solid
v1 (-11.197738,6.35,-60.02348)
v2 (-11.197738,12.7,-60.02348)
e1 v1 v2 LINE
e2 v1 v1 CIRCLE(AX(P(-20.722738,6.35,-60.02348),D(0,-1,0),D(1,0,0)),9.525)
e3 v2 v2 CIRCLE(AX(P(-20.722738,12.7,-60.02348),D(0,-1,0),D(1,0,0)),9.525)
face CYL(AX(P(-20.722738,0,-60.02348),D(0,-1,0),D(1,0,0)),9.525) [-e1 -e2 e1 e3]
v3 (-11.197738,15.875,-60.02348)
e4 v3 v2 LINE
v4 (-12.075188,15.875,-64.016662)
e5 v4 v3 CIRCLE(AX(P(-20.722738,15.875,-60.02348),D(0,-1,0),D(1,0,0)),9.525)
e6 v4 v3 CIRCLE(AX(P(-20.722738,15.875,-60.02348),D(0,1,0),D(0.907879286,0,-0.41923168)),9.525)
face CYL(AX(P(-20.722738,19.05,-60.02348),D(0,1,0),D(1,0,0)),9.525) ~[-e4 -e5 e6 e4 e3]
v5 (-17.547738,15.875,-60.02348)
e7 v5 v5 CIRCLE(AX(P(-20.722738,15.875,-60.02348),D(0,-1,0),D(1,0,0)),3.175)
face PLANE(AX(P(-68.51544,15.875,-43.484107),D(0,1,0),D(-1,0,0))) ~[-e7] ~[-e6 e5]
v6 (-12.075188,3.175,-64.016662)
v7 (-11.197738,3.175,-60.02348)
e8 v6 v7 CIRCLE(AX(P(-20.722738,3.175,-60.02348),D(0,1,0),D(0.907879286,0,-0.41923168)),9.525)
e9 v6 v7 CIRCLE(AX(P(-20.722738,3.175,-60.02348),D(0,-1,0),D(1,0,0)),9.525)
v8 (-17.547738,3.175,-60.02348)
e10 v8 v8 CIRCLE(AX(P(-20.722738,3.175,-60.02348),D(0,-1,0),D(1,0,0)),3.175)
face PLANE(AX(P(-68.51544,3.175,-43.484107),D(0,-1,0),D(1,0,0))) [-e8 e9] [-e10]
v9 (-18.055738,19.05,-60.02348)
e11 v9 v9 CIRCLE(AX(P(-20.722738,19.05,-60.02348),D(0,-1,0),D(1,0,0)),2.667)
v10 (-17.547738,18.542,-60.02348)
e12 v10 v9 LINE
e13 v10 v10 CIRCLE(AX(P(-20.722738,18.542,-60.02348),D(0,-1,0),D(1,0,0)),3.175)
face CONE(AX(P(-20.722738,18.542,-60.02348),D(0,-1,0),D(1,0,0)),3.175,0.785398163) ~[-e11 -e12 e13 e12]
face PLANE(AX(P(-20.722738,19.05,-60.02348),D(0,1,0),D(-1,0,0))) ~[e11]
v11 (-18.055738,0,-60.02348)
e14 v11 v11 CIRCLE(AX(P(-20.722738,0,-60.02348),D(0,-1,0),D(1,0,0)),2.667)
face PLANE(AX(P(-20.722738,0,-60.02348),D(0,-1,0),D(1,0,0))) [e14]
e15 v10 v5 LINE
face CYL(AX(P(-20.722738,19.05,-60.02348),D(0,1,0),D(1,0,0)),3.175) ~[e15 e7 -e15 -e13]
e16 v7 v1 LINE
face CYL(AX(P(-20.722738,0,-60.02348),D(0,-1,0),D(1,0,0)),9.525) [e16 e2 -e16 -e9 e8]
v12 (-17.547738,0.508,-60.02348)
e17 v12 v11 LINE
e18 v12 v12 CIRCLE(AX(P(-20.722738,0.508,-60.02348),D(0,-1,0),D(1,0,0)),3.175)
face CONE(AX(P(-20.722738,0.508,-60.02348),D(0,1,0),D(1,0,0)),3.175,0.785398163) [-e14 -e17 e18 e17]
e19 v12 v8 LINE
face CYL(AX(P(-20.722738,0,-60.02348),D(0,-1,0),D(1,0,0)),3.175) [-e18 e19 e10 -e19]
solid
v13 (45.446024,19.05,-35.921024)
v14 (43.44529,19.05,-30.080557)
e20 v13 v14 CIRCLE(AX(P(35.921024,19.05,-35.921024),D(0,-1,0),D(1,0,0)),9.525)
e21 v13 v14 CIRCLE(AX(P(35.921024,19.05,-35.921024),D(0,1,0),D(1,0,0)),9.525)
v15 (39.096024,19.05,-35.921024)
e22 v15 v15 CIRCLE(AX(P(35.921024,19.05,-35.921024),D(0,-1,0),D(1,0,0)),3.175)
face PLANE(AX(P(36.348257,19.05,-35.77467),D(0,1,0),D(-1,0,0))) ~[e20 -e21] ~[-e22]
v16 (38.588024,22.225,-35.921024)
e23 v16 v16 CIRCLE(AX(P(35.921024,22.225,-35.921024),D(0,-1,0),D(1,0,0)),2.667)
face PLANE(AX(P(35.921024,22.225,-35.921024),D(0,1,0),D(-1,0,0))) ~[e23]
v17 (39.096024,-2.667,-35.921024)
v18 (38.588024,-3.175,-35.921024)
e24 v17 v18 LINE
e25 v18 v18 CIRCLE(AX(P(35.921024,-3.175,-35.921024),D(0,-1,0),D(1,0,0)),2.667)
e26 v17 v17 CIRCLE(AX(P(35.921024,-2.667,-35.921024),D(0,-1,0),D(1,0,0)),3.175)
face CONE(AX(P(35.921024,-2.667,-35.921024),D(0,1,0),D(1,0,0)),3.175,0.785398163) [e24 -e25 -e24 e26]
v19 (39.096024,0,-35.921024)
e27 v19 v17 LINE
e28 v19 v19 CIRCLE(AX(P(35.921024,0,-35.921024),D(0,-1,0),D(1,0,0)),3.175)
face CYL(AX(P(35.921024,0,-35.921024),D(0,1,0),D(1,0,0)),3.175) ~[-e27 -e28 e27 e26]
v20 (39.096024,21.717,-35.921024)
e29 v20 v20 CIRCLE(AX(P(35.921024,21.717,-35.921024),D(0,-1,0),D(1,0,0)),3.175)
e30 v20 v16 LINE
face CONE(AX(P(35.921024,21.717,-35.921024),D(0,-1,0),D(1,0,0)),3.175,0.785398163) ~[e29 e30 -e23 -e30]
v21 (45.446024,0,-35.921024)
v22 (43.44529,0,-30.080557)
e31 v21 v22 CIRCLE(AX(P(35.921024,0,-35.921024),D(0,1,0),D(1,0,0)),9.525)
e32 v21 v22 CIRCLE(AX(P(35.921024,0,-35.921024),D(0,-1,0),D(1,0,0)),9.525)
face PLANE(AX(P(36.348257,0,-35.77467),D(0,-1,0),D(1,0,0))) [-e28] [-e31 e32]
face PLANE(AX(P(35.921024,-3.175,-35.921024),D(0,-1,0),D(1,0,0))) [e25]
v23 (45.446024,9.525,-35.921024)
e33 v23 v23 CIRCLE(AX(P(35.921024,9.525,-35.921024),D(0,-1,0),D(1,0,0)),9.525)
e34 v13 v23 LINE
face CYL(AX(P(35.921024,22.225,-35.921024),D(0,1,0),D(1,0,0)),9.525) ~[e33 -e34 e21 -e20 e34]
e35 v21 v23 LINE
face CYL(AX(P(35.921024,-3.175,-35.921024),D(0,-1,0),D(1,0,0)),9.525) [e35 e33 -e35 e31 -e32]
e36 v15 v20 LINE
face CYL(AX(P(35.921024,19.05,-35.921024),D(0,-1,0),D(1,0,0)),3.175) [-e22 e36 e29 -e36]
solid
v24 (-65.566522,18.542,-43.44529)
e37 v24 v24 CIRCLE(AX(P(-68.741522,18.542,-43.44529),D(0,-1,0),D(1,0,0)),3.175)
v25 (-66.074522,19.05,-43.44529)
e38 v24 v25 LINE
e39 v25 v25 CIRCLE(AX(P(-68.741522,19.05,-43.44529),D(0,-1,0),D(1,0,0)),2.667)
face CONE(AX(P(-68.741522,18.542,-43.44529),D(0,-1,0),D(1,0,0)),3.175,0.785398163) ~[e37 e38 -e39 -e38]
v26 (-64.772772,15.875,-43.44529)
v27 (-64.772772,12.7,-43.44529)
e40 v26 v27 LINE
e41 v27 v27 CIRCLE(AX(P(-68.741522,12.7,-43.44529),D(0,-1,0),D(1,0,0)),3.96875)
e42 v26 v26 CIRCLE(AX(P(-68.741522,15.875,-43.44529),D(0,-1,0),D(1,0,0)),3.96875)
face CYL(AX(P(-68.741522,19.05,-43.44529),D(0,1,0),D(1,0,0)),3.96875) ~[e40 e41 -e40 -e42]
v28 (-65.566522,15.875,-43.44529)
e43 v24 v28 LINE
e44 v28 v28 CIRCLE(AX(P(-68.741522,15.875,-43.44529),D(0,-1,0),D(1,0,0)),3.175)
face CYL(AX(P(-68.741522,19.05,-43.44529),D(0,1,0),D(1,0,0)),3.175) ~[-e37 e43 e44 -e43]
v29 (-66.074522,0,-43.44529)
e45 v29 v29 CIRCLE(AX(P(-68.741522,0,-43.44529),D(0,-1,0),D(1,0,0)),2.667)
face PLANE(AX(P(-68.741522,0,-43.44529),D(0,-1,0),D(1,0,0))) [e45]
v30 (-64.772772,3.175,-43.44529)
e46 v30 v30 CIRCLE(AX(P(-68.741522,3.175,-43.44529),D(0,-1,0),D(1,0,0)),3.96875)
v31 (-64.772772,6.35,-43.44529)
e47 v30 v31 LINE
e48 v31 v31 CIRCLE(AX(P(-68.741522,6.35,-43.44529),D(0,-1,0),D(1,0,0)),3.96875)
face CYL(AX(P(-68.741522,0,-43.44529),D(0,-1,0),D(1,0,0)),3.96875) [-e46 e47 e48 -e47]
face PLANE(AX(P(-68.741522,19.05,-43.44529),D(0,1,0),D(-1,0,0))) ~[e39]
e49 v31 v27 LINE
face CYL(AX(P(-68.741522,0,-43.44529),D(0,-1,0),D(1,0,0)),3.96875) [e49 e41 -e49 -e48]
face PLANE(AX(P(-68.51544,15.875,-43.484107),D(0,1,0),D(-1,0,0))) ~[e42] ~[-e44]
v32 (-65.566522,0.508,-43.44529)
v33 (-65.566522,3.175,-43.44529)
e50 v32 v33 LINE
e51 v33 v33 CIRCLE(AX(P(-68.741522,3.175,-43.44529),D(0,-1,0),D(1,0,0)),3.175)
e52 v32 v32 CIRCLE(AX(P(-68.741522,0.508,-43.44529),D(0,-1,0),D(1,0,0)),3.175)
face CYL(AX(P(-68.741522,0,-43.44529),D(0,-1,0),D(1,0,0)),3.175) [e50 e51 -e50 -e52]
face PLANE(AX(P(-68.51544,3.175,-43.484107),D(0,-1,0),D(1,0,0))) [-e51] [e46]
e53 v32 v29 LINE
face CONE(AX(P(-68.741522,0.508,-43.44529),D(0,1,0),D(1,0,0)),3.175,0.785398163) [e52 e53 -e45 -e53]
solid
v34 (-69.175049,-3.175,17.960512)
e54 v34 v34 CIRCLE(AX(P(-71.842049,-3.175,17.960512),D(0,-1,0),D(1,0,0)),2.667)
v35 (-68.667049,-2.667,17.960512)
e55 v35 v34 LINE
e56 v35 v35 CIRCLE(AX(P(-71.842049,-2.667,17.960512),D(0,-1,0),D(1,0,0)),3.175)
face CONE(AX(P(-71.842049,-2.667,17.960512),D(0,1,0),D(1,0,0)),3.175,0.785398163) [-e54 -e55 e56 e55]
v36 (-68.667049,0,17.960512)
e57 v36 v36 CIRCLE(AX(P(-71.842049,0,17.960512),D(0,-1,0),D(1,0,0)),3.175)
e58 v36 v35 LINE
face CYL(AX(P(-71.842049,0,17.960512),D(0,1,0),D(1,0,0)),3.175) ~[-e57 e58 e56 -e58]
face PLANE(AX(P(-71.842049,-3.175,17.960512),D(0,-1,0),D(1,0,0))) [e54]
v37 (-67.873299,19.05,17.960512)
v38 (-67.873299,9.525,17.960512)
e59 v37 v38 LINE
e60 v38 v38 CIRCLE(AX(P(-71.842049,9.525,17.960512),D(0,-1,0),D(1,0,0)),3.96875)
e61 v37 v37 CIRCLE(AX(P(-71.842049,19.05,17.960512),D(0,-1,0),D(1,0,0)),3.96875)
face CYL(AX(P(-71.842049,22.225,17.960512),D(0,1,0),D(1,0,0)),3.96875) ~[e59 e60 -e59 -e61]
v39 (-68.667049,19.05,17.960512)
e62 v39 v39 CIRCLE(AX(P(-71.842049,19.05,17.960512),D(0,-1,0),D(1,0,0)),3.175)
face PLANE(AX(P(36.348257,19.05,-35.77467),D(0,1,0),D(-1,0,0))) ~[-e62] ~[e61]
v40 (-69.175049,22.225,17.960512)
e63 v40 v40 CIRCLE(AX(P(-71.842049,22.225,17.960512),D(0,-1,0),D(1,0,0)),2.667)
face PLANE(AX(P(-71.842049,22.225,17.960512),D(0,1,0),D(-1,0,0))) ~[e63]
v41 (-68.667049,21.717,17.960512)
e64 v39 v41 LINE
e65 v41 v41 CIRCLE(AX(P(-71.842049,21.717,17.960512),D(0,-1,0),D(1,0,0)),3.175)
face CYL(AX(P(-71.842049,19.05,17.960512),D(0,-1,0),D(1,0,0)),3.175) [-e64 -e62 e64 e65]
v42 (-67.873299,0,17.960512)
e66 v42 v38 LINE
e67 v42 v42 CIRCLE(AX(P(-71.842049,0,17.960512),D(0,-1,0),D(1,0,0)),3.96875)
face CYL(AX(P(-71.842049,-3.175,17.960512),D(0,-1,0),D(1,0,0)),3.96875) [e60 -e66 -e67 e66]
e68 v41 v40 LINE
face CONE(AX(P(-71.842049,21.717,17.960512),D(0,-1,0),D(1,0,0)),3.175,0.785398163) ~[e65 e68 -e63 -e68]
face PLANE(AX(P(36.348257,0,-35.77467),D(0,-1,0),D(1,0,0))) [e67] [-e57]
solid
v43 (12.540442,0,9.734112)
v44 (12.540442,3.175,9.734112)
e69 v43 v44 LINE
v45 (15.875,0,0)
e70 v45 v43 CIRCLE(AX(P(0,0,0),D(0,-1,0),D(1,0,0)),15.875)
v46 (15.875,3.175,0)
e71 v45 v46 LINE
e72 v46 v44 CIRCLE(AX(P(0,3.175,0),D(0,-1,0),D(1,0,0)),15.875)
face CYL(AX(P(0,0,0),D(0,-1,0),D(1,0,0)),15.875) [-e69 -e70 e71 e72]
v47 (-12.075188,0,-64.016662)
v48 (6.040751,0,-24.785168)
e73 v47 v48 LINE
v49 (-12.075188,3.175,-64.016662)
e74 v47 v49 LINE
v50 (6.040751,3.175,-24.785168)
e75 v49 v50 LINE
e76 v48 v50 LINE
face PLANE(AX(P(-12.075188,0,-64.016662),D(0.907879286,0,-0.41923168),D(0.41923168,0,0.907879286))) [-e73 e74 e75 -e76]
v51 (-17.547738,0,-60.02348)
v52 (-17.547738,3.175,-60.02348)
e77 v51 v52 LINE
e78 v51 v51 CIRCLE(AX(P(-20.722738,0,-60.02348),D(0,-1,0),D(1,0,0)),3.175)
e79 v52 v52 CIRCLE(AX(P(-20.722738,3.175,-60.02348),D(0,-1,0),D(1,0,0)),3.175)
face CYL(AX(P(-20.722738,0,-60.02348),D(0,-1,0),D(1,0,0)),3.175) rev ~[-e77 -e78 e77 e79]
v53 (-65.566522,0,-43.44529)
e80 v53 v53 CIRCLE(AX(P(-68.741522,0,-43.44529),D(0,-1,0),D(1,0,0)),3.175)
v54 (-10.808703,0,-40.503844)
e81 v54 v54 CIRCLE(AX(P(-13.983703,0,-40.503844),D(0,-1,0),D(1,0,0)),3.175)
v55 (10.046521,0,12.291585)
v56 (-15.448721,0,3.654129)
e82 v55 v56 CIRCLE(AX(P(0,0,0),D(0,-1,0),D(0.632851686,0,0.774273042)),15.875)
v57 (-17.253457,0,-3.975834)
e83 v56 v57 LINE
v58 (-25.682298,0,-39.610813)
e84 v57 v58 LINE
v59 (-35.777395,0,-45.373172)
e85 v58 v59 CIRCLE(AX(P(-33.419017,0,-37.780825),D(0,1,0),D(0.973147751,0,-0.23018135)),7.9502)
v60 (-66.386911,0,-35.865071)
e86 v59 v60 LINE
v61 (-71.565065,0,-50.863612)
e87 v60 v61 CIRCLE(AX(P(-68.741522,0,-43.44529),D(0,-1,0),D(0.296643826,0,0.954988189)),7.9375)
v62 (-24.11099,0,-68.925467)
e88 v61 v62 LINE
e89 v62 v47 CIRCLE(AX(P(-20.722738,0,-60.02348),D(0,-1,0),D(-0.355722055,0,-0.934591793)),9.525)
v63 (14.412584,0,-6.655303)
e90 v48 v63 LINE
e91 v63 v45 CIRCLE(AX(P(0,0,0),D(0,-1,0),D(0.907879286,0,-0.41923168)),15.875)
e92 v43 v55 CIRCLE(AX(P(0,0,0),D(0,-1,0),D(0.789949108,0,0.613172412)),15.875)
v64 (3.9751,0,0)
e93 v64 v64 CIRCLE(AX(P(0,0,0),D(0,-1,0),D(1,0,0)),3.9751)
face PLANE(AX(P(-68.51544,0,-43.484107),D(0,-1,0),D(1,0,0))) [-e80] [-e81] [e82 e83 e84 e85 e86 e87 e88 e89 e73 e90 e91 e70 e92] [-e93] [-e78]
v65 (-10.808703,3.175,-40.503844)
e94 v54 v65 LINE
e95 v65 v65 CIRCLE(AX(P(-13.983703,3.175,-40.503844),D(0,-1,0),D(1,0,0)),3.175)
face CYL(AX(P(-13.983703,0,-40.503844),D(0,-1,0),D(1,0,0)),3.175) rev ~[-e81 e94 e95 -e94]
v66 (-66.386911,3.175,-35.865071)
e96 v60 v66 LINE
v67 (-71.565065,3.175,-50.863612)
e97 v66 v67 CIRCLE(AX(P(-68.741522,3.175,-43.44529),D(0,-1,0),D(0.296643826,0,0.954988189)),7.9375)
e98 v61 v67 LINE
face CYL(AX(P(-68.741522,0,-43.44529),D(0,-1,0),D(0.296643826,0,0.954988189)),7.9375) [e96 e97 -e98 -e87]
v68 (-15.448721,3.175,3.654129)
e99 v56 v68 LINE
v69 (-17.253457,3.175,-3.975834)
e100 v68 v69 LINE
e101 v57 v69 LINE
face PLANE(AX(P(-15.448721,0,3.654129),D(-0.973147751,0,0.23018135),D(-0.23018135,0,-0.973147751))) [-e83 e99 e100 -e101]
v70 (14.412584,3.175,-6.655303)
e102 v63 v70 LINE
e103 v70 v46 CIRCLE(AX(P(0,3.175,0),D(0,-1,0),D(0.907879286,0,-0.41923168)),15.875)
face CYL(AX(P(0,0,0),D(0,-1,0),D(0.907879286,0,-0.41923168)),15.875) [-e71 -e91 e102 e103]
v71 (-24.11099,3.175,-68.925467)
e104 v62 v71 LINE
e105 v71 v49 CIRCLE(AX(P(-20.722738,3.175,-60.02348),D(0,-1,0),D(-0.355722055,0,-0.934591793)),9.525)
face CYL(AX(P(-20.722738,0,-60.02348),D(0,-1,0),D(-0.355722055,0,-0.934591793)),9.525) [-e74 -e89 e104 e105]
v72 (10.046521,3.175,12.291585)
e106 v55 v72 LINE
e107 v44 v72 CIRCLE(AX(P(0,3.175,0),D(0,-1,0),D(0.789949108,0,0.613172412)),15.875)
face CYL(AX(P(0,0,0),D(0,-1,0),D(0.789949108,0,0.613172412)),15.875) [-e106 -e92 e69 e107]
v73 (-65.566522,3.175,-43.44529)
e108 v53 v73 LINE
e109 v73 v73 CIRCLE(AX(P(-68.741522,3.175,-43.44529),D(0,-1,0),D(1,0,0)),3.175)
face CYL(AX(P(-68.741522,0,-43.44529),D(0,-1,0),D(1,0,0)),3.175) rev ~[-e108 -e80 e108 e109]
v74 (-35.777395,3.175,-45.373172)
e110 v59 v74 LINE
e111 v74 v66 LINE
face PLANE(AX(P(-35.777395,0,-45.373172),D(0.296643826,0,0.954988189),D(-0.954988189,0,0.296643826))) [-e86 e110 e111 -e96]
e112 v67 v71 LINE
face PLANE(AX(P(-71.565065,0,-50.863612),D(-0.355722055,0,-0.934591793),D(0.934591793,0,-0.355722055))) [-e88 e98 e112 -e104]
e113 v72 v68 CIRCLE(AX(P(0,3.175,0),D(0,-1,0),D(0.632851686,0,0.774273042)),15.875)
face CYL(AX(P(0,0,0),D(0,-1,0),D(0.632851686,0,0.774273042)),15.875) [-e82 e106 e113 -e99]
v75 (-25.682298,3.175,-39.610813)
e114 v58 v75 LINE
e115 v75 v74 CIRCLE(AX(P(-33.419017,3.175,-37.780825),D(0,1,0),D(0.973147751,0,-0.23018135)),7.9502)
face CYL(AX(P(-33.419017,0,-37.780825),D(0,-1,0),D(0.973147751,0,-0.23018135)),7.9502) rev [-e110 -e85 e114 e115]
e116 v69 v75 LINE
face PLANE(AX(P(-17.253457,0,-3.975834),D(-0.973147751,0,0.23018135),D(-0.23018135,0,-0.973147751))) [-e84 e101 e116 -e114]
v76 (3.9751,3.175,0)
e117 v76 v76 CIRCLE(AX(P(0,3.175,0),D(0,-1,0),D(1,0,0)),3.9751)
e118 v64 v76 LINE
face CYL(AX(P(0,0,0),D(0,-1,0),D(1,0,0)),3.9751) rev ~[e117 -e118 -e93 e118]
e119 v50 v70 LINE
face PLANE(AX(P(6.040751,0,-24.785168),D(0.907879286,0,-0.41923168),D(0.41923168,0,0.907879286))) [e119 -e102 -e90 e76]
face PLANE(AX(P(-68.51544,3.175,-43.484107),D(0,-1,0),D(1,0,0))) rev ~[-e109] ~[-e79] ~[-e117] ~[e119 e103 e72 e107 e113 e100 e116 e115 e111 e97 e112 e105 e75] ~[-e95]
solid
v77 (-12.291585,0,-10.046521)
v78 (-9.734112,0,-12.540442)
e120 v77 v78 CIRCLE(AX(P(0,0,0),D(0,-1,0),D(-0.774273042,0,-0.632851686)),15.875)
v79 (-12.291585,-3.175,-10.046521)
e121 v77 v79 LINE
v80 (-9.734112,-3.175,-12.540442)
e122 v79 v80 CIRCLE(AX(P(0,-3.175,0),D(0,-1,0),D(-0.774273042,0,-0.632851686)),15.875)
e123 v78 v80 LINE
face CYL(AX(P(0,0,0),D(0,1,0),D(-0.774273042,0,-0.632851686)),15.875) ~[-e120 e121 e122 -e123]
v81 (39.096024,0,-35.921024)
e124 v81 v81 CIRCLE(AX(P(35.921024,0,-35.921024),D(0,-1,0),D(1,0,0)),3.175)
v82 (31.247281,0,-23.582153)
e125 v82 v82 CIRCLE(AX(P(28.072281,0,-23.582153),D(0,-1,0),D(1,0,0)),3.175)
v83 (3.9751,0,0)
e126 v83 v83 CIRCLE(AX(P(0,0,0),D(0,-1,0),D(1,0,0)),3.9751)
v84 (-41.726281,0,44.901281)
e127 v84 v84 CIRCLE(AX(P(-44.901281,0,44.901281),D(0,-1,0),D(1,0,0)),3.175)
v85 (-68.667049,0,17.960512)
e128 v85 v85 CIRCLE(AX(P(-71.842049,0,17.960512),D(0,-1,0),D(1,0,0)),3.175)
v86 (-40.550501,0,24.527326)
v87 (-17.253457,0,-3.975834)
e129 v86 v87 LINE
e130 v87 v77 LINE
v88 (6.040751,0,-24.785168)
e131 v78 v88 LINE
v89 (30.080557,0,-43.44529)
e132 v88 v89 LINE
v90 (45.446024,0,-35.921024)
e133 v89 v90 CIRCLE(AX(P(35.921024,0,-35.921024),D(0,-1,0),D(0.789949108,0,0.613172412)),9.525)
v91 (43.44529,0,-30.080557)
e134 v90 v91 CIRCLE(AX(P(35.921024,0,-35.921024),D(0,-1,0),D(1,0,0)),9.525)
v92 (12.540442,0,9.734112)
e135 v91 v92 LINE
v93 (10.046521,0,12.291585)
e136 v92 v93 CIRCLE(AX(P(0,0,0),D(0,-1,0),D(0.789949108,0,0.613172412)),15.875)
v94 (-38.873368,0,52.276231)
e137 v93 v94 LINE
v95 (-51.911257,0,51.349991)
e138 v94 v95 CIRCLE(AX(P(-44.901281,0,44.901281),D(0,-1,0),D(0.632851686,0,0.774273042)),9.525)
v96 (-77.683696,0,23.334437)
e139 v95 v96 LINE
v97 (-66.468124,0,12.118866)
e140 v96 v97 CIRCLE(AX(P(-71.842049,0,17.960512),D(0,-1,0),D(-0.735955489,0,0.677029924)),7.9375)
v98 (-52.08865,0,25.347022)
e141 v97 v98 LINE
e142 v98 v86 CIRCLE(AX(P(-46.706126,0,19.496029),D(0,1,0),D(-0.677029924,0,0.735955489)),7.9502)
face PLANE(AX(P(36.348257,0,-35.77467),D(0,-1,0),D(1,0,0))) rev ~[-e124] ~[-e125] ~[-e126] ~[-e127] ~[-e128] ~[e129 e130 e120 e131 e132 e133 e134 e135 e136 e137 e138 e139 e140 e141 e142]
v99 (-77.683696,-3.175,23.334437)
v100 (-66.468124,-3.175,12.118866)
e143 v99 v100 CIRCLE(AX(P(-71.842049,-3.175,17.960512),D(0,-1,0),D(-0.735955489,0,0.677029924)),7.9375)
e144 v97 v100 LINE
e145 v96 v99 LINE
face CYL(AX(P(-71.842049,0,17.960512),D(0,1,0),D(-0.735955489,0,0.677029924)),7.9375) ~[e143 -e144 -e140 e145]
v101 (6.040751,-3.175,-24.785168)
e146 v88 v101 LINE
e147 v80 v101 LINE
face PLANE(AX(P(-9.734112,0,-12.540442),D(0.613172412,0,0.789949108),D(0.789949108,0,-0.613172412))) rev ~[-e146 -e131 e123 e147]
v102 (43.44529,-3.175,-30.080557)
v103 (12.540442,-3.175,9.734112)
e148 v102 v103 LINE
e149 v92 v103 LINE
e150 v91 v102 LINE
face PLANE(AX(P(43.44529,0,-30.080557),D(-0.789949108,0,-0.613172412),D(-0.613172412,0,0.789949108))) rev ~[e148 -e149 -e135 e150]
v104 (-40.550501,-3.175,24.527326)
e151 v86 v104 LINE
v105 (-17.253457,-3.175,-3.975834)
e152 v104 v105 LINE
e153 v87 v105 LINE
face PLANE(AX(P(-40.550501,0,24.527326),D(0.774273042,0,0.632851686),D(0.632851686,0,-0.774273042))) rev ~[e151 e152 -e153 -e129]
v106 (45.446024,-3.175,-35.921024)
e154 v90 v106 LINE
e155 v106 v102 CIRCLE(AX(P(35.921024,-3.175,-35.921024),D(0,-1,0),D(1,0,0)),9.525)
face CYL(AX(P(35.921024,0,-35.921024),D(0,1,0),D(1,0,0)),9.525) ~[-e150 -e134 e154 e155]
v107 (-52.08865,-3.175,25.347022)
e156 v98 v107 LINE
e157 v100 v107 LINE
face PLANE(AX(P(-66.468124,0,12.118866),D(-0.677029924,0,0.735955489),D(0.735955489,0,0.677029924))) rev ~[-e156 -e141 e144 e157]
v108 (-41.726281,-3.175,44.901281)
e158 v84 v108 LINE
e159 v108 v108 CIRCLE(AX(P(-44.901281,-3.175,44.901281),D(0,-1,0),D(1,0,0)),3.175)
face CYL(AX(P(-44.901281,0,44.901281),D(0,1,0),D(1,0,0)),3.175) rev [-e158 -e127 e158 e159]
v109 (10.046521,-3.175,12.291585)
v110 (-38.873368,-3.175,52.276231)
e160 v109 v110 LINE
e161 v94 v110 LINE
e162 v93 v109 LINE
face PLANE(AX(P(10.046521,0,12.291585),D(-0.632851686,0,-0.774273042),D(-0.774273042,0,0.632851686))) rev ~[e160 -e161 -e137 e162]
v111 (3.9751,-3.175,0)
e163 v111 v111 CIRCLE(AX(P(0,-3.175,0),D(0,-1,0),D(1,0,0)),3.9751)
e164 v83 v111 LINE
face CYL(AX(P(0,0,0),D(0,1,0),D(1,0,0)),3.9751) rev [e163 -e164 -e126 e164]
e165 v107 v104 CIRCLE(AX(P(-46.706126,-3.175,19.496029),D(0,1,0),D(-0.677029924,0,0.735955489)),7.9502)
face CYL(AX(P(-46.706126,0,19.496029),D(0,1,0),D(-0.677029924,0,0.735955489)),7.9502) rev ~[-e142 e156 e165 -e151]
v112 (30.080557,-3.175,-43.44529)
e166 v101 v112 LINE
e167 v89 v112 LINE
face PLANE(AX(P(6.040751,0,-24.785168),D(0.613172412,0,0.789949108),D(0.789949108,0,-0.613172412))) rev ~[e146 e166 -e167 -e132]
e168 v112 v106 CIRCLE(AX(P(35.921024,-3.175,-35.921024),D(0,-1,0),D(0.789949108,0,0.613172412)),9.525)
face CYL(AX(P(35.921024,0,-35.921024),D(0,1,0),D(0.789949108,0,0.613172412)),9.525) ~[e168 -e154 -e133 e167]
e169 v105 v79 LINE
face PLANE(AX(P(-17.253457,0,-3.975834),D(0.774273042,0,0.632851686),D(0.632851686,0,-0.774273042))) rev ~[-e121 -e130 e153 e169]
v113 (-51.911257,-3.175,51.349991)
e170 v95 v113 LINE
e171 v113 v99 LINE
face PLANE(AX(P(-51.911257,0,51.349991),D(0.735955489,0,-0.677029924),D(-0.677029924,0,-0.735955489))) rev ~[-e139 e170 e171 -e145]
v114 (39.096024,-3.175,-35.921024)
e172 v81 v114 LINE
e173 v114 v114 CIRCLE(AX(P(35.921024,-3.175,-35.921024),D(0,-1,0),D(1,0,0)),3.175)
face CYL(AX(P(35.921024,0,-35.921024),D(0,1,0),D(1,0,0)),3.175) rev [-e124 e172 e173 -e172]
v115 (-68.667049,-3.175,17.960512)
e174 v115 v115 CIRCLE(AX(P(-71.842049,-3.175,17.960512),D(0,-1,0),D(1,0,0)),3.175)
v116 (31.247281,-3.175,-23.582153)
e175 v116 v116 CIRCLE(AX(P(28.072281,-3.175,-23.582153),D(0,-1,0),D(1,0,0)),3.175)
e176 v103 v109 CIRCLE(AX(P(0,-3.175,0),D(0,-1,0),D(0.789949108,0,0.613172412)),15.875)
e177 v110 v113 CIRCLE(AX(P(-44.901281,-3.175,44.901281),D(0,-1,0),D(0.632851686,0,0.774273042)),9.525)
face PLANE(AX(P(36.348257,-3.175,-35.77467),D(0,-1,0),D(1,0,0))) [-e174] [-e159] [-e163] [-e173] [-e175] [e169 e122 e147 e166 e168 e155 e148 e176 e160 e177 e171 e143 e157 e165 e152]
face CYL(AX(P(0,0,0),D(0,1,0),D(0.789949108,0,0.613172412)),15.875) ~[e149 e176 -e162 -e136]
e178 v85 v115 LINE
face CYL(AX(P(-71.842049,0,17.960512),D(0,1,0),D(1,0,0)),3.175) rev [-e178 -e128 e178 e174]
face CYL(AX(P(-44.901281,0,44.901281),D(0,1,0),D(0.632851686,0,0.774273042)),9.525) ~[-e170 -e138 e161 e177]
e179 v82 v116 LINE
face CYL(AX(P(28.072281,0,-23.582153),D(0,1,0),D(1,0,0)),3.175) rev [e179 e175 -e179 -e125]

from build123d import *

# Parameters (mm, degrees)
F0_R     = 3.175
F0_R_2   = 3.9751
F2_DEPTH = 3.175
F3_DEPTH = 3.175
F4_R     = 3.96875
F4_R_2   = 9.525
F5_R     = 9.525
F5_R_2   = 3.96875
F6_DEPTH = 12.7
F8_SIZE  = 0.508


with BuildPart() as f2:
    # F0 (on Front) → F2 (new body)
    with BuildSketch(Plane.XZ):
        with BuildLine():
            ThreePointArc((45.4460244843, -35.9210244843), (44.9319692603, -32.834197757), (43.4452897348, -30.0805572564))
            ThreePointArc((43.4452897348, -30.0805572564), (29.1858323935, -29.1858323935), (30.0805572564, -43.4452897348))
            ThreePointArc((30.0805572564, -43.4452897348), (40.1100085291, -44.4754407515), (45.4460244843, -35.9210244843))
        make_face()
        with Locations((35.9210244843, -35.9210244843)):
            Circle(F0_R, mode=Mode.SUBTRACT)
        with BuildLine():
            ThreePointArc((-35.3762806053, 44.9012806053), (-36.2948443588, 48.9823197052), (-38.8733682976, 52.2762313313))
            ThreePointArc((-38.8733682976, 52.2762313313), (-45.5762567153, 54.4023348758), (-51.9112566393, 51.3499906317))
            ThreePointArc((-51.9112566393, 51.3499906317), (-48.3621766798, 36.0272835712), (-35.3762806053, 44.9012806053))
        make_face()
        with Locations((-44.9012806053, 44.9012806053)):
            Circle(F0_R, mode=Mode.SUBTRACT)
        with BuildLine():
            ThreePointArc((-63.9045489686, 17.9605122421), (-68.9579689065, 25.3555097706), (-77.6836956635, 23.3344372641))
            ThreePointArc((-77.6836956635, 23.3344372641), (-77.4547090442, 12.3478521665), (-66.4681239466, 12.1188655472))
            ThreePointArc((-66.4681239466, 12.1188655472), (-64.5736435, 14.7708119123), (-63.9045489686, 17.9605122421))
        make_face()
        with Locations((-71.8420489686, 17.9605122421)):
            Circle(F0_R, mode=Mode.SUBTRACT)
        with BuildLine():
            ThreePointArc((-12.2915845432, -10.0465205129), (-15.4695856604, -3.5647642974), (-15.4487205549, 3.654128927))
            Line((-15.4487205549, 3.654128927), (-17.2534569939, -3.9758341852))
            Line((-17.2534569939, -3.9758341852), (-12.2915845432, -10.0465205129))
        make_face()
        with BuildLine():
            Line((6.0407505093, -24.7851682751), (14.4125836687, -6.6553029228))
            ThreePointArc((14.4125836687, -6.6553029228), (3.7590876443, -15.4235172734), (-9.7341120464, -12.5404420842))
            Line((-9.7341120464, -12.5404420842), (6.0407505093, -24.7851682751))
        make_face()
        with BuildLine():
            ThreePointArc((-15.4487205549, 3.654128927), (-5.0938542582, 15.0355669596), (10.0465205129, 12.2915845432))
            Line((10.0465205129, 12.2915845432), (-38.8733682976, 52.2762313313))
            ThreePointArc((-38.8733682976, 52.2762313313), (-36.2948443588, 48.9823197052), (-35.3762806053, 44.9012806053))
            ThreePointArc((-35.3762806053, 44.9012806053), (-48.3621766798, 36.0272835712), (-51.9112566393, 51.3499906317))
            Line((-51.9112566393, 51.3499906317), (-77.6836956635, 23.3344372641))
            ThreePointArc((-77.6836956635, 23.3344372641), (-68.9579689065, 25.3555097706), (-63.9045489686, 17.9605122421))
            ThreePointArc((-63.9045489686, 17.9605122421), (-64.5736435, 14.7708119123), (-66.4681239466, 12.1188655472))
            Line((-66.4681239466, 12.1188655472), (-52.0886497329, 25.3470219755))
            ThreePointArc((-52.0886497329, 25.3470219755), (-46.1427463712, 27.4262419437), (-40.5505008917, 24.5273261188))
            Line((-40.5505008917, 24.5273261188), (-17.2534569939, -3.9758341852))
            Line((-17.2534569939, -3.9758341852), (-15.4487205549, 3.654128927))
        make_face()
        with BuildLine():
            ThreePointArc((12.5404420842, 9.7341120464), (15.0182412933, 5.1447112121), (15.875, 0))
            ThreePointArc((15.875, 0), (15.505086113, -3.4070411841), (14.4125836687, -6.6553029228))
            Line((14.4125836687, -6.6553029228), (6.0407505093, -24.7851682751))
            Line((6.0407505093, -24.7851682751), (30.0805572564, -43.4452897348))
            ThreePointArc((30.0805572564, -43.4452897348), (29.1858323935, -29.1858323935), (43.4452897348, -30.0805572564))
            Line((43.4452897348, -30.0805572564), (12.5404420842, 9.7341120464))
        make_face()
        with Locations((28.0722806345, -23.5821525739)):
            Circle(F0_R, mode=Mode.SUBTRACT)
        with BuildLine():
            ThreePointArc((14.4125836687, -6.6553029228), (15.505086113, -3.4070411841), (15.875, 0))
            ThreePointArc((15.875, 0), (15.0182412933, 5.1447112121), (12.5404420842, 9.7341120464))
            ThreePointArc((12.5404420842, 9.7341120464), (11.3656449986, 11.0832187908), (10.0465205129, 12.2915845432))
            ThreePointArc((10.0465205129, 12.2915845432), (-5.0938542582, 15.0355669596), (-15.4487205549, 3.654128927))
            ThreePointArc((-15.4487205549, 3.654128927), (-15.4695856604, -3.5647642974), (-12.2915845432, -10.0465205129))
            ThreePointArc((-12.2915845432, -10.0465205129), (-11.0832187908, -11.3656449986), (-9.7341120464, -12.5404420842))
            ThreePointArc((-9.7341120464, -12.5404420842), (3.7590876443, -15.4235172734), (14.4125836687, -6.6553029228))
        make_face()
        Circle(F0_R_2, mode=Mode.SUBTRACT)
    extrude(amount=F2_DEPTH)


with BuildPart() as f3:
    # F0 (on Front) → F3 (new body)
    with BuildSketch(Plane.XZ):
        with BuildLine():
            ThreePointArc((-66.3869112852, -35.8650709885), (-76.2444566474, -40.8549475191), (-71.5650654677, -50.8636120927))
            ThreePointArc((-71.5650654677, -50.8636120927), (-64.2364119334, -49.980417325), (-60.804021658, -43.4452897348))
            ThreePointArc((-60.804021658, -43.4452897348), (-62.3503705064, -38.738157571), (-66.3869112852, -35.8650709885))
        make_face()
        with Locations((-68.741521658, -43.4452897348)):
            Circle(F0_R, mode=Mode.SUBTRACT)
        with BuildLine():
            ThreePointArc((14.4125836687, -6.6553029228), (15.505086113, -3.4070411841), (15.875, 0))
            ThreePointArc((15.875, 0), (15.0182412933, 5.1447112121), (12.5404420842, 9.7341120464))
            ThreePointArc((12.5404420842, 9.7341120464), (11.3656449986, 11.0832187908), (10.0465205129, 12.2915845432))
            ThreePointArc((10.0465205129, 12.2915845432), (-5.0938542582, 15.0355669596), (-15.4487205549, 3.654128927))
            ThreePointArc((-15.4487205549, 3.654128927), (-15.4695856604, -3.5647642974), (-12.2915845432, -10.0465205129))
            ThreePointArc((-12.2915845432, -10.0465205129), (-11.0832187908, -11.3656449986), (-9.7341120464, -12.5404420842))
            ThreePointArc((-9.7341120464, -12.5404420842), (3.7590876443, -15.4235172734), (14.4125836687, -6.6553029228))
        make_face()
        Circle(F0_R_2, mode=Mode.SUBTRACT)
        with BuildLine():
            ThreePointArc((-24.1109902973, -68.9254667448), (-17.1256354604, -68.8431443247), (-12.0751875245, -64.016661669))
            ThreePointArc((-12.0751875245, -64.016661669), (-11.4196860579, -62.0677046258), (-11.1977377257, -60.0234799154))
            ThreePointArc((-11.1977377257, -60.0234799154), (-26.1288693952, -52.1813268072), (-24.1109902973, -68.9254667448))
        make_face()
        with Locations((-20.7227377257, -60.0234799154)):
            Circle(F0_R, mode=Mode.SUBTRACT)
        with BuildLine():
            Line((6.0407505093, -24.7851682751), (14.4125836687, -6.6553029228))
            ThreePointArc((14.4125836687, -6.6553029228), (3.7590876443, -15.4235172734), (-9.7341120464, -12.5404420842))
            Line((-9.7341120464, -12.5404420842), (6.0407505093, -24.7851682751))
        make_face()
        with BuildLine():
            Line((6.0407505093, -24.7851682751), (-9.7341120464, -12.5404420842))
            ThreePointArc((-9.7341120464, -12.5404420842), (-11.0832187908, -11.3656449986), (-12.2915845432, -10.0465205129))
            Line((-12.2915845432, -10.0465205129), (-17.2534569939, -3.9758341852))
            Line((-17.2534569939, -3.9758341852), (-25.6822977536, -39.6108126168))
            ThreePointArc((-25.6822977536, -39.6108126168), (-29.4778451519, -44.6853772936), (-35.777394757, -45.3731719465))
            Line((-35.777394757, -45.3731719465), (-66.3869112852, -35.8650709885))
            ThreePointArc((-66.3869112852, -35.8650709885), (-62.3503705064, -38.738157571), (-60.804021658, -43.4452897348))
            ThreePointArc((-60.804021658, -43.4452897348), (-64.2364119334, -49.980417325), (-71.5650654677, -50.8636120927))
            Line((-71.5650654677, -50.8636120927), (-24.1109902973, -68.9254667448))
            ThreePointArc((-24.1109902973, -68.9254667448), (-26.1288693952, -52.1813268072), (-11.1977377257, -60.0234799154))
            ThreePointArc((-11.1977377257, -60.0234799154), (-11.4196860579, -62.0677046258), (-12.0751875245, -64.016661669))
            Line((-12.0751875245, -64.016661669), (6.0407505093, -24.7851682751))
        make_face()
        with Locations((-13.9837034173, -40.5038442469)):
            Circle(F0_R, mode=Mode.SUBTRACT)
        with BuildLine():
            ThreePointArc((-12.2915845432, -10.0465205129), (-15.4695856604, -3.5647642974), (-15.4487205549, 3.654128927))
            Line((-15.4487205549, 3.654128927), (-17.2534569939, -3.9758341852))
            Line((-17.2534569939, -3.9758341852), (-12.2915845432, -10.0465205129))
        make_face()
    extrude(amount=-F3_DEPTH)


with BuildPart() as f6:
    # F4 (on face) + F5 (on face) → F6 (new body, through all)
    with BuildSketch(Plane.XZ.offset(3.175)):
        with Locations((-71.8420489686, 17.9605122421)):
            Circle(F4_R)
        with Locations((35.9210244843, -35.9210244843)):
            Circle(F4_R_2)
    with BuildSketch(Plane.XZ):
        with Locations((-20.7227377257, -60.0234799154)):
            Circle(F5_R)
        with Locations((-68.741521658, -43.4452897348)):
            Circle(F5_R_2)
    extrude(amount=-F6_DEPTH)

    # F7: cut F2, F3
    add(f2.part, mode=Mode.SUBTRACT)
    add(f3.part, mode=Mode.SUBTRACT)

    # F8
    f8_edges = [f6.edges().sort_by_distance(p)[0] for p in [
        (-75.017049, -3.175, 17.960512),
        (-71.916522, 0, -43.44529),
        (-23.897738, 0, -60.02348),
        (32.746024, -3.175, -35.921024),
    ]]
    chamfer(f8_edges, length=F8_SIZE)

    # F9: F6 across plane


with BuildPart() as f6_1:
    add(f6.part)
    add(f6.part.mirror(Plane.XZ.offset(-9.525)))


solid = Compound([f2.part, f3.part, f6_1.part])
